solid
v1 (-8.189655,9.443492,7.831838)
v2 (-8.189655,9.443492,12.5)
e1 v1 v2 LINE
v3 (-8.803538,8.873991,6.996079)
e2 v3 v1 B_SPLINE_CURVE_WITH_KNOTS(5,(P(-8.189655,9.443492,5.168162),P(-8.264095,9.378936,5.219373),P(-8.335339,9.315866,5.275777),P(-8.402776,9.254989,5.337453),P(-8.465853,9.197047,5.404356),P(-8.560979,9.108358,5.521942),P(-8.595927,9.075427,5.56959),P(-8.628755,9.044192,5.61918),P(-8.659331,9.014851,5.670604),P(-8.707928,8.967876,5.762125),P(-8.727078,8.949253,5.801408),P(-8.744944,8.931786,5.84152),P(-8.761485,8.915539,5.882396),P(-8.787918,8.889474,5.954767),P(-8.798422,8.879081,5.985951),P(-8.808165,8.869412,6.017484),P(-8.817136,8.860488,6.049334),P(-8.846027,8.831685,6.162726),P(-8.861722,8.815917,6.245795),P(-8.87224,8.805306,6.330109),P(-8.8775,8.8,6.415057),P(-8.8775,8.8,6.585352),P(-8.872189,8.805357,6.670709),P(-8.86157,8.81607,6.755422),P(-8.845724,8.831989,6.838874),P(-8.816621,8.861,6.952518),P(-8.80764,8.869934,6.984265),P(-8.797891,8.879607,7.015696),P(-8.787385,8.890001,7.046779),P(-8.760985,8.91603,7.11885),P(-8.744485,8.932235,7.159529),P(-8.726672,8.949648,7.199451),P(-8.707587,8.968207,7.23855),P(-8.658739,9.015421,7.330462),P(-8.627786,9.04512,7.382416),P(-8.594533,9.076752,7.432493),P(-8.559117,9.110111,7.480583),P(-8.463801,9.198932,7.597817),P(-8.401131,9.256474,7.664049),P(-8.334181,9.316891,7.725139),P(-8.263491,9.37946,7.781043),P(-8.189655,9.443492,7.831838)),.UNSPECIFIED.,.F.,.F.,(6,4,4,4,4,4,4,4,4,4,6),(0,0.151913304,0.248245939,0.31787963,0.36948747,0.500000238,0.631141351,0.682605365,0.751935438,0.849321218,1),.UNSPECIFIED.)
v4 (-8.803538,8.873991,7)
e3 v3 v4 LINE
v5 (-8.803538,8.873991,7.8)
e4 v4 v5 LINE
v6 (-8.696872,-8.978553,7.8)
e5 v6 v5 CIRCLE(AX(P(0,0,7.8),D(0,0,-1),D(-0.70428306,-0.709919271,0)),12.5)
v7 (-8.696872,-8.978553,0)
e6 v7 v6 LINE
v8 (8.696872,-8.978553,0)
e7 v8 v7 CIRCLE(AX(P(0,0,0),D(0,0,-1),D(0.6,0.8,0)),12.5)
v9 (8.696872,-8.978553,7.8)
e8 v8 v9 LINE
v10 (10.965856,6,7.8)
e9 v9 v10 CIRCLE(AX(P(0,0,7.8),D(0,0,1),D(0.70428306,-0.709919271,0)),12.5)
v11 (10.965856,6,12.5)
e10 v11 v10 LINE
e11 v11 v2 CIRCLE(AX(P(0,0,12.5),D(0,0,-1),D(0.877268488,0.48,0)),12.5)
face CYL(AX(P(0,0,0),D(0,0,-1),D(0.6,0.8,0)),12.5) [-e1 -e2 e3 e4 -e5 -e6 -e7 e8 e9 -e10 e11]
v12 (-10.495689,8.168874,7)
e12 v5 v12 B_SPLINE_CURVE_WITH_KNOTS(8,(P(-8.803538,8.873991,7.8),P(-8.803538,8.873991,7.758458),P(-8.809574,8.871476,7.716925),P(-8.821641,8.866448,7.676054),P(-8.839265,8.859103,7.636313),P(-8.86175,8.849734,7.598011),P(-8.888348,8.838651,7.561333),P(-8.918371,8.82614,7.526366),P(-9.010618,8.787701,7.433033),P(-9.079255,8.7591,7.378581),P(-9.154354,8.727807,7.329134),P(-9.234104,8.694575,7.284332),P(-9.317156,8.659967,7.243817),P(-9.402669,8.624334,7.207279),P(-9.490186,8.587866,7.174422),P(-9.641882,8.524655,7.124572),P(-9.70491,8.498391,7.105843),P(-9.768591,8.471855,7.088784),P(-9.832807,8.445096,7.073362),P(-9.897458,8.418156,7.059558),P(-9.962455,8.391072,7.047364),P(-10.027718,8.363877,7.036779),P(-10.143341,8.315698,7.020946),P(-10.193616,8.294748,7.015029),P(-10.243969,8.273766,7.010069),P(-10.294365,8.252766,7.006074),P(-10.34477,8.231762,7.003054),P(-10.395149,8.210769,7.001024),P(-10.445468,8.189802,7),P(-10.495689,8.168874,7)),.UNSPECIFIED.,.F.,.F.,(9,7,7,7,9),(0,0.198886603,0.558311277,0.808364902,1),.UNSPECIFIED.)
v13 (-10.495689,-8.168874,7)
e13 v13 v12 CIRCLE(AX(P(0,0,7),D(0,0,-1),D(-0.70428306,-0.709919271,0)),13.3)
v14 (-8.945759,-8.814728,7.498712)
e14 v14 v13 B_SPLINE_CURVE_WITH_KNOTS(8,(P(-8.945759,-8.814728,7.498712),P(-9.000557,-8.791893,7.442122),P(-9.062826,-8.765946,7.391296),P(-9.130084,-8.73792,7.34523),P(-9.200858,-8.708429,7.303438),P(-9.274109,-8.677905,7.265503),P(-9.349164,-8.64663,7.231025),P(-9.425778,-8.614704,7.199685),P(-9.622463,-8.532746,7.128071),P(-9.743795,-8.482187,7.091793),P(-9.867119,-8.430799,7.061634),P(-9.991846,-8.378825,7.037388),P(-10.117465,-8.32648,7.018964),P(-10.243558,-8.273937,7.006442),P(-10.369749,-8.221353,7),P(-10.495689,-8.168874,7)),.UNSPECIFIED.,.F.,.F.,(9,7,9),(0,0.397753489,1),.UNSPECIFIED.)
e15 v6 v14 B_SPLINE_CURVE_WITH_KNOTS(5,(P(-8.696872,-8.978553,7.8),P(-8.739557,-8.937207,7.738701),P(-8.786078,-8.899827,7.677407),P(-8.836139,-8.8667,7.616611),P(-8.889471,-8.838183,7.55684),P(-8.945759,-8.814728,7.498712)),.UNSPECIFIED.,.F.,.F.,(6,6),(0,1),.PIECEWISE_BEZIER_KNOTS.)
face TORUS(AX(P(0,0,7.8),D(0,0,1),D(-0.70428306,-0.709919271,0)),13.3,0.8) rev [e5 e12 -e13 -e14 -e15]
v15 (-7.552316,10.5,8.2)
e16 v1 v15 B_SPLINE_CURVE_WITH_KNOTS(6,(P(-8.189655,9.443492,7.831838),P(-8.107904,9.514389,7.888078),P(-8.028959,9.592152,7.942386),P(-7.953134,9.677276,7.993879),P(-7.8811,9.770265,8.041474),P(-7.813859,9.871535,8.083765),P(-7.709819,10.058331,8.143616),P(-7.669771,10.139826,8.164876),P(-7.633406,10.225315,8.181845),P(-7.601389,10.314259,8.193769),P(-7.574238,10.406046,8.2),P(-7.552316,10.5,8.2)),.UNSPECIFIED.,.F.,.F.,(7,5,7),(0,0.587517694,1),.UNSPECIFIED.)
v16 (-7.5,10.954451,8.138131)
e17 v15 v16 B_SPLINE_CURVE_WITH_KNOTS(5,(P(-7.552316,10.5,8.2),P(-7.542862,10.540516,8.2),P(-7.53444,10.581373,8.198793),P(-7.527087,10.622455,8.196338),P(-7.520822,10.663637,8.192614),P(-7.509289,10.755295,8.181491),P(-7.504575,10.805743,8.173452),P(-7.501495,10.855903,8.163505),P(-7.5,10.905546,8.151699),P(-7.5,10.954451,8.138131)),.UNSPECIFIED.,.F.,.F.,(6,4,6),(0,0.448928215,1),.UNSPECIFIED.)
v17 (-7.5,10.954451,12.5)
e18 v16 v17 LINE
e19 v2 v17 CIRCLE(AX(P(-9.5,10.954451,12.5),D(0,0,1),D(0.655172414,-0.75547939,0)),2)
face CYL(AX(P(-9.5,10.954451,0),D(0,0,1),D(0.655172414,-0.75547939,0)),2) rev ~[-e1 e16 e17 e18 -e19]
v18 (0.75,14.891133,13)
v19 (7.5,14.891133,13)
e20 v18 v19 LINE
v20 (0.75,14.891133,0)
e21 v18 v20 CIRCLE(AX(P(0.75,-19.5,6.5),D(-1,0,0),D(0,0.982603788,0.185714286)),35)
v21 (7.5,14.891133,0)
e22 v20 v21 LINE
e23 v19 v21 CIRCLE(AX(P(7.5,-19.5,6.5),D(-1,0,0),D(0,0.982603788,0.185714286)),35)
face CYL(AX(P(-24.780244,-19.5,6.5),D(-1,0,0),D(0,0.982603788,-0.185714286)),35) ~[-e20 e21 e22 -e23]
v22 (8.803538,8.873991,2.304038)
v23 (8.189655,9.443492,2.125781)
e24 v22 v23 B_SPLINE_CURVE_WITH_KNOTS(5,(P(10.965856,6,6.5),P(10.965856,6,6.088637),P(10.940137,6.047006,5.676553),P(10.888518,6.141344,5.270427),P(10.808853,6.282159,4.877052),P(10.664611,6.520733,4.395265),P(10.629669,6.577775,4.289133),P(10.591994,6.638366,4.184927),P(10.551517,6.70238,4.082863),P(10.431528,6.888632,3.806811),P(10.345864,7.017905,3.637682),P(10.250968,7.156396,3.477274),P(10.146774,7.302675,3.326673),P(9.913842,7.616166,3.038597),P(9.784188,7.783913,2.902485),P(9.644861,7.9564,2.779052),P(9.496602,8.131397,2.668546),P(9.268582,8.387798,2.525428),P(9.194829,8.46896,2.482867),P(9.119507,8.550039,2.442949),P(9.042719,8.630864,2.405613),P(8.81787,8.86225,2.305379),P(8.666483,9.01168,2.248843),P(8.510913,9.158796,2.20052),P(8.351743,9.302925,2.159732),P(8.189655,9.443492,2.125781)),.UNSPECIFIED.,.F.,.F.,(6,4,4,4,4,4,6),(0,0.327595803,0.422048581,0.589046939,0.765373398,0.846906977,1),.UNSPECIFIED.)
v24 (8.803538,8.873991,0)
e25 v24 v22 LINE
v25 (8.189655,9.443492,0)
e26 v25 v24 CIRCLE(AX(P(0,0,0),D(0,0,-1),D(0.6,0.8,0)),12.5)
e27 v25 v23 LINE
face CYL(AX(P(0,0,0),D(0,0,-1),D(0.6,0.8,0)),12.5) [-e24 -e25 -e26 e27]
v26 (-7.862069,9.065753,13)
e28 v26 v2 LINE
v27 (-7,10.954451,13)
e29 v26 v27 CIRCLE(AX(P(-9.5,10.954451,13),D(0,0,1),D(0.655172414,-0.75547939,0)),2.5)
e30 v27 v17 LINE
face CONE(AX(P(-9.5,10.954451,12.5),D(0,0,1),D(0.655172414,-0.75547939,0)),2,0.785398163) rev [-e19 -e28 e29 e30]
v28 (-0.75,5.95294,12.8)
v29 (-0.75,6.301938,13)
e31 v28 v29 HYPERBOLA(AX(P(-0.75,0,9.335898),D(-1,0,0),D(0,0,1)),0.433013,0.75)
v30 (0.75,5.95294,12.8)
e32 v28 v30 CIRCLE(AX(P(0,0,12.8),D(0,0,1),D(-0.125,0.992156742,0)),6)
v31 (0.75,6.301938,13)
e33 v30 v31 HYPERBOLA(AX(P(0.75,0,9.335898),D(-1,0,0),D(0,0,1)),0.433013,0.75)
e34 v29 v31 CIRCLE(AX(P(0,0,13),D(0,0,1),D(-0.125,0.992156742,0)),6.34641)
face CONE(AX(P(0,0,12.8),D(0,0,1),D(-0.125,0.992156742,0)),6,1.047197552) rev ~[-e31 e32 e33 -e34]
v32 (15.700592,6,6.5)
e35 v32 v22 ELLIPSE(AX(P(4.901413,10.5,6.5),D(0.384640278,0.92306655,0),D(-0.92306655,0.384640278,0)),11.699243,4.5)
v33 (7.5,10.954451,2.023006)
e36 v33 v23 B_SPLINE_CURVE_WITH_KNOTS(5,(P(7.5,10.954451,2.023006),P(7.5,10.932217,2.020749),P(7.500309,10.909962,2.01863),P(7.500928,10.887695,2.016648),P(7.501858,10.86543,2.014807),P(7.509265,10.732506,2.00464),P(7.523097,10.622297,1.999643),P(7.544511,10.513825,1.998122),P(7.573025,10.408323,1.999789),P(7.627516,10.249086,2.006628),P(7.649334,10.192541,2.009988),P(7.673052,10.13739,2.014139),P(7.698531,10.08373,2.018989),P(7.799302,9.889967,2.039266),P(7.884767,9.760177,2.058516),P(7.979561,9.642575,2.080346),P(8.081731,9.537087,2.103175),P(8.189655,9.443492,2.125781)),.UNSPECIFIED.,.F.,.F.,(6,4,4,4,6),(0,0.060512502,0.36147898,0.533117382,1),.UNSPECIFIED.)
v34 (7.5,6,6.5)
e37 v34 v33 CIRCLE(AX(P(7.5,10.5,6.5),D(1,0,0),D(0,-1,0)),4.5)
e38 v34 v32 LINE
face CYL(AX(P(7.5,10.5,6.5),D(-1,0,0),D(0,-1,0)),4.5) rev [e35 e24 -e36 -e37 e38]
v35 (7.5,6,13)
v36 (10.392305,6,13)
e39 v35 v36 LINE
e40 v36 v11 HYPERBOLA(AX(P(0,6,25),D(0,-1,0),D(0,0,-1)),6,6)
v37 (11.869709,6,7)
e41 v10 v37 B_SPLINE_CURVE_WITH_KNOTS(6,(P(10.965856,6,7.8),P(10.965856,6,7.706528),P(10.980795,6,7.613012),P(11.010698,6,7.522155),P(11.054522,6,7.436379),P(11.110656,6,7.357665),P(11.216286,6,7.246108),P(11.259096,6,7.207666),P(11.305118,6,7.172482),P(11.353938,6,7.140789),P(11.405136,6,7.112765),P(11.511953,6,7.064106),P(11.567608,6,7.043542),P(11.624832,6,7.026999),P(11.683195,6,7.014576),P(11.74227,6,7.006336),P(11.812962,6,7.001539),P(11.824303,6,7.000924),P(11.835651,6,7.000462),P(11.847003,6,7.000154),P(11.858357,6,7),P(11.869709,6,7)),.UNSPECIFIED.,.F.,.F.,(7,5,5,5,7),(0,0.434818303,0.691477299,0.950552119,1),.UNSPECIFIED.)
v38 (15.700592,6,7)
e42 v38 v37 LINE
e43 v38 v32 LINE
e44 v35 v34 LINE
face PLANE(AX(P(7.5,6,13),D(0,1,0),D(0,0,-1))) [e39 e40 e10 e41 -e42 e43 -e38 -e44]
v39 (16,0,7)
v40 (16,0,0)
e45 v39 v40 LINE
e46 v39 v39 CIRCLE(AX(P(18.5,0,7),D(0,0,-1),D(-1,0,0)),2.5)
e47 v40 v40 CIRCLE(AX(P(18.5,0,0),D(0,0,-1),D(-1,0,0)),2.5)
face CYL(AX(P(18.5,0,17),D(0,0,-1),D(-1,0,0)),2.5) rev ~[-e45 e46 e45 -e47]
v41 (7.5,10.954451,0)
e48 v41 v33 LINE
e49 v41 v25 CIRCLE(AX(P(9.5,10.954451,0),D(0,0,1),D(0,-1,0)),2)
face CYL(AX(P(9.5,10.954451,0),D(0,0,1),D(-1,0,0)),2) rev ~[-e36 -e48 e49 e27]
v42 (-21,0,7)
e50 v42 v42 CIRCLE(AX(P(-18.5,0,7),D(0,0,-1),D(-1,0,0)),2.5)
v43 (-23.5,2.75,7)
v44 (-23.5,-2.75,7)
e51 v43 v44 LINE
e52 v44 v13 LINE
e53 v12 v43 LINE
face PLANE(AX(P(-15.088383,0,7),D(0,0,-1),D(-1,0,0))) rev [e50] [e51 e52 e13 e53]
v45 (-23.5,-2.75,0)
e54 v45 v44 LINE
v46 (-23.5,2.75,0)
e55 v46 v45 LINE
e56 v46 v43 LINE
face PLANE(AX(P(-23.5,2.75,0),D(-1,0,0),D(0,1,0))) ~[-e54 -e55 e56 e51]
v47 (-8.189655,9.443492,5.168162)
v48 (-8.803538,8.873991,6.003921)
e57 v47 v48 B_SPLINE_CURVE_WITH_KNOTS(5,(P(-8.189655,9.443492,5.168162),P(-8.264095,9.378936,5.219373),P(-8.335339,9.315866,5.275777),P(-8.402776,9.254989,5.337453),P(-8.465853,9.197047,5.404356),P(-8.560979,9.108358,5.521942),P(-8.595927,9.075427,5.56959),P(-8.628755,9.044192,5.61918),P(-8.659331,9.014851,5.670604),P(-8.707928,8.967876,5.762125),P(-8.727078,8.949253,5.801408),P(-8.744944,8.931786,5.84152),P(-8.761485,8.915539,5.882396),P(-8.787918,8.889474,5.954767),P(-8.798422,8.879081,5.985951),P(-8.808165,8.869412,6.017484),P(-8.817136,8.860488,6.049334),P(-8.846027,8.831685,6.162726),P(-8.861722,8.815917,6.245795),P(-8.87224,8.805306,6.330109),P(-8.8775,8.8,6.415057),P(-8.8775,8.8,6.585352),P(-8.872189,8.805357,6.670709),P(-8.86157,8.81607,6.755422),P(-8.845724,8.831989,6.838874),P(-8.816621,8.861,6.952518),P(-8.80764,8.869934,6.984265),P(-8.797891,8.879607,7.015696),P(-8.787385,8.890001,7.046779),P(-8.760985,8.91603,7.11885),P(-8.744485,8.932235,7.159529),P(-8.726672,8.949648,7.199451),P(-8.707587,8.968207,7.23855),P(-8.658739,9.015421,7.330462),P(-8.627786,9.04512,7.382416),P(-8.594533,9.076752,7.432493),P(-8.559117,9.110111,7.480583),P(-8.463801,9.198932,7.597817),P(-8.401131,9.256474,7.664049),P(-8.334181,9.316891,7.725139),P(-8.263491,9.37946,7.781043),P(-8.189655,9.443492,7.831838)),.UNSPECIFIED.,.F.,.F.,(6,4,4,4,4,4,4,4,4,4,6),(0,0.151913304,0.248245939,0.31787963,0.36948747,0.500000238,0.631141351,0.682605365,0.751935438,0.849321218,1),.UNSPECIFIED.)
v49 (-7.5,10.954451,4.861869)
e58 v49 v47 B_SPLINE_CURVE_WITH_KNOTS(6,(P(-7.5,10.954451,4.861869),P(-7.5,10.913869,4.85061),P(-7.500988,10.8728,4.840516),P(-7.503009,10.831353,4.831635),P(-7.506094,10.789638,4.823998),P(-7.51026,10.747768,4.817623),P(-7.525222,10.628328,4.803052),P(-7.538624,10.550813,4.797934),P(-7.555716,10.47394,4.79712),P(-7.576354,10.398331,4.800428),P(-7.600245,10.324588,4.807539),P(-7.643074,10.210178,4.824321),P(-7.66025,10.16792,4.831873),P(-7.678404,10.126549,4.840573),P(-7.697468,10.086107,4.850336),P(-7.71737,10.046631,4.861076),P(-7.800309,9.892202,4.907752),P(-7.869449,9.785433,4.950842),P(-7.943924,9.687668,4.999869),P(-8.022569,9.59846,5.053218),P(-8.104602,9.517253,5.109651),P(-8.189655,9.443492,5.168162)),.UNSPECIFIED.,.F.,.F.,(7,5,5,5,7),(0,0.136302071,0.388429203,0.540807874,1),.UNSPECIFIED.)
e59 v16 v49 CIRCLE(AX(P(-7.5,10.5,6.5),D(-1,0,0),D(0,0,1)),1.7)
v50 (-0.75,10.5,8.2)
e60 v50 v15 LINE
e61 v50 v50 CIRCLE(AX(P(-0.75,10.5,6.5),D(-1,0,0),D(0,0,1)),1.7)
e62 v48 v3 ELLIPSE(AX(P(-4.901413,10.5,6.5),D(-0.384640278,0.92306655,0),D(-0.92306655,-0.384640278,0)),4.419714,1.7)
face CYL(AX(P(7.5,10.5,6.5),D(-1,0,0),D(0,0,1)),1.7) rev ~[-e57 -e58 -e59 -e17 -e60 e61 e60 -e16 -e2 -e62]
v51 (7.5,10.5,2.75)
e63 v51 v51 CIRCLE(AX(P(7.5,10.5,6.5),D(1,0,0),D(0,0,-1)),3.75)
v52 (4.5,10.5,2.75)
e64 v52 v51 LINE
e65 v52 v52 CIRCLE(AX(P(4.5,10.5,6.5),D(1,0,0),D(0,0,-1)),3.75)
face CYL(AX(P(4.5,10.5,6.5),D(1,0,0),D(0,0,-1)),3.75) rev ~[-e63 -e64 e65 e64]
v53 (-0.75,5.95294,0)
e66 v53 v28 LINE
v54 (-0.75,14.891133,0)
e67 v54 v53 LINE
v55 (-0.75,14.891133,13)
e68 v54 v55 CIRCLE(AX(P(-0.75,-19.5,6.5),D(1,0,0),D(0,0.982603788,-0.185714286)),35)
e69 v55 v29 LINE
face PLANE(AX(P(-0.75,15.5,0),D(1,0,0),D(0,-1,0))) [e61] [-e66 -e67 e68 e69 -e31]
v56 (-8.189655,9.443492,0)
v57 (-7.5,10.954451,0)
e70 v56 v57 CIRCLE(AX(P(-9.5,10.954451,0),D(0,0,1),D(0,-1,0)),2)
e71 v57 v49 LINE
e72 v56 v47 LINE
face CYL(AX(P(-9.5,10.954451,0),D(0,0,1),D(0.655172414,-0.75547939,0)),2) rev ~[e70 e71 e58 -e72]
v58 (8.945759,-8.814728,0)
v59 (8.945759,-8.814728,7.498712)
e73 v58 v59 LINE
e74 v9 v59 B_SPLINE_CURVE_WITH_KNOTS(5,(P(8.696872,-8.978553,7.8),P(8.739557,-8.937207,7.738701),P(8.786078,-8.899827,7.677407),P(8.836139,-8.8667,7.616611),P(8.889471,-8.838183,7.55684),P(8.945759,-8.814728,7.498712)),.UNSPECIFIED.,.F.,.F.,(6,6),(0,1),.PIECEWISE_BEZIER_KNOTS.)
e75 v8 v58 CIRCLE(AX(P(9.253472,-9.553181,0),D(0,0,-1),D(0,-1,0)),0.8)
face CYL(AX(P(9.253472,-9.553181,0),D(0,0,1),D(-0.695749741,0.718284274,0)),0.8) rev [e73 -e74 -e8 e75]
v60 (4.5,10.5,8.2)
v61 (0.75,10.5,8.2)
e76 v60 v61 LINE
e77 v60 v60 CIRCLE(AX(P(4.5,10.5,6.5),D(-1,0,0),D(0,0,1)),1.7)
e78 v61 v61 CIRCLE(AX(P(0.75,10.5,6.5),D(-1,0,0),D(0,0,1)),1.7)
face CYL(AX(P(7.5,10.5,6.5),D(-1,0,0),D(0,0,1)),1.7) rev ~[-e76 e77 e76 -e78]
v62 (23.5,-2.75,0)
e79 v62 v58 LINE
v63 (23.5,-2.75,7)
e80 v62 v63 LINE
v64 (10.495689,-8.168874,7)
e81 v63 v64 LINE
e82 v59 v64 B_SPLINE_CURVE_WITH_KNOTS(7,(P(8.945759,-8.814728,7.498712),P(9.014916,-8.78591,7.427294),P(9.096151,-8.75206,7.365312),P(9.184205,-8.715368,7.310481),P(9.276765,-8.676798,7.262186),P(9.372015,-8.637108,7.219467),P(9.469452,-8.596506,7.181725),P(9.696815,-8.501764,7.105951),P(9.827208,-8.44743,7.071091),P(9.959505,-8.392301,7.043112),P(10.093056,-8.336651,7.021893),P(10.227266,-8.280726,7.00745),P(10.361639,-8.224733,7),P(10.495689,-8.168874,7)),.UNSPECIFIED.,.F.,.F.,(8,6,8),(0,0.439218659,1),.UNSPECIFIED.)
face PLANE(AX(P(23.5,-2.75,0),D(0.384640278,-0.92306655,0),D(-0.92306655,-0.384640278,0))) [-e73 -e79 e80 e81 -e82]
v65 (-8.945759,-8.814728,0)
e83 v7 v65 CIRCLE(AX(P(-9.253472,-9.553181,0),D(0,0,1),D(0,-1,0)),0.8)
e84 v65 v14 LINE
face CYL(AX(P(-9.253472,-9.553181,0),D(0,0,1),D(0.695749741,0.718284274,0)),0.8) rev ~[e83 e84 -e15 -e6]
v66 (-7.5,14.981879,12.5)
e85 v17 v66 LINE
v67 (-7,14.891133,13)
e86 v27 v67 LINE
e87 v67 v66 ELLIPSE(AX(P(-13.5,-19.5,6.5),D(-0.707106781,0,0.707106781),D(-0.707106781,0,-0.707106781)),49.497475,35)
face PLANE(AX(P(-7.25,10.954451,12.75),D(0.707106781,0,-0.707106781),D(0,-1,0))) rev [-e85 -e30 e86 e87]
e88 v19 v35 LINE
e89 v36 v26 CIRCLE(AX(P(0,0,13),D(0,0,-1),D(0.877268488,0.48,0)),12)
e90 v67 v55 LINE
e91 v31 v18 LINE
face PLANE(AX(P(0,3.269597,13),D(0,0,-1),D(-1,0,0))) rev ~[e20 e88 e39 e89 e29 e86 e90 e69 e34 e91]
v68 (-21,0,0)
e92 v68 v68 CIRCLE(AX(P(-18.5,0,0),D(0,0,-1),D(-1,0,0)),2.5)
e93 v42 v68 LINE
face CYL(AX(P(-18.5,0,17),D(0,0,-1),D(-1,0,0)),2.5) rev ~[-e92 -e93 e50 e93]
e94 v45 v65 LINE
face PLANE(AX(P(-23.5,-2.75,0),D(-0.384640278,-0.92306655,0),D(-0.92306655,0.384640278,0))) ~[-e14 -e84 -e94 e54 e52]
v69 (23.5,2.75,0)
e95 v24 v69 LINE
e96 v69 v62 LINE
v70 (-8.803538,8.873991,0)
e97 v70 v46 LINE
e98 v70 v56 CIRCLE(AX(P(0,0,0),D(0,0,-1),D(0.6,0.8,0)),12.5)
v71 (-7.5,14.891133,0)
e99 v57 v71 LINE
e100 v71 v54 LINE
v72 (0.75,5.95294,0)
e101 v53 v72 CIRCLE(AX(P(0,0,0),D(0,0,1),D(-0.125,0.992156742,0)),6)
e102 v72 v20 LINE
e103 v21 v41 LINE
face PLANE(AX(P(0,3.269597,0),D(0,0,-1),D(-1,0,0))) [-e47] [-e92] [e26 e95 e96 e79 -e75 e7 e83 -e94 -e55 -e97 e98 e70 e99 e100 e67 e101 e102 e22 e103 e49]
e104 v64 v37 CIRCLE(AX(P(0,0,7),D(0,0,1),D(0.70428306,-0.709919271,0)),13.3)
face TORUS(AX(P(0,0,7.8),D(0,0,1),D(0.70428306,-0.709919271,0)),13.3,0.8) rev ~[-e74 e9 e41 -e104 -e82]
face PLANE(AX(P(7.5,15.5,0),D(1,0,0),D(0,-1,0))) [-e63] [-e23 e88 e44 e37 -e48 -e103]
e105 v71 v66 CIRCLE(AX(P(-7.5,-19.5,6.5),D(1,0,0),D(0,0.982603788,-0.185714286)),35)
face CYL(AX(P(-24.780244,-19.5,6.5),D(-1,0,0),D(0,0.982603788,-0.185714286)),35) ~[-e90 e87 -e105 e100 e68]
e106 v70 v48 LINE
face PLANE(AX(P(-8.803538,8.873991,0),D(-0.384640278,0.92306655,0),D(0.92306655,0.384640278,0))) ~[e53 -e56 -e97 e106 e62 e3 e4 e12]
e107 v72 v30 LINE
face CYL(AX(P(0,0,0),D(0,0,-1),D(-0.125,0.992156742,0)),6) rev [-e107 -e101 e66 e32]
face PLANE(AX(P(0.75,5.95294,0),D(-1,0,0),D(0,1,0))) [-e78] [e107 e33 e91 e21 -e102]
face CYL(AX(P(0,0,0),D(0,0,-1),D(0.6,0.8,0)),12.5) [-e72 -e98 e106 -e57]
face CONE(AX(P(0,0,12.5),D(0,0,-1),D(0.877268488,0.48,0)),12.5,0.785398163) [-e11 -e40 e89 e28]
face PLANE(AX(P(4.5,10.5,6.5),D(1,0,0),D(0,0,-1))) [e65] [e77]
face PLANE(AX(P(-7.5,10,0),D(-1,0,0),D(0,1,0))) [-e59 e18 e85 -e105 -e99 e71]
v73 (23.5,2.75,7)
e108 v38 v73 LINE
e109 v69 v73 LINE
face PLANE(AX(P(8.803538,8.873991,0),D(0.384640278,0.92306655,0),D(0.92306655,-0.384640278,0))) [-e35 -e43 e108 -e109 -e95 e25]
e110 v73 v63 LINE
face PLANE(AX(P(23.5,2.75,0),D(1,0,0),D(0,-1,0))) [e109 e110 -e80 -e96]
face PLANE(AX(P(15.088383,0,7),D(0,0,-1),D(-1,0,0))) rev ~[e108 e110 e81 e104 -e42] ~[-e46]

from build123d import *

# Parameters (mm, degrees)
BOSS_EXTRUDE1_DEPTH                                 = 13
CUT_EXTRUDE1_DEPTH                                  = 24.780243901
CUT_EXTRUDE1_DEPTH_BACK                             = 24.780243901
FILLET1_R                                           = 2
BOSS_EXTRUDE2_DEPTH                                 = 7
HOLE_WIZARD_5_0_5_1_D                               = 5
HOLE_WIZARD_5_0_5_1_DEPTH                           = 10
HOLE_WIZARD_5_0_5_1_TIP                             = 1.502151548
CUT_EXTRUDE2_REACH                                  = 39.017
CBORE_FOR_M4_HEX_SOCKET_HEAD_CAP_SCREW3_D           = 3.4
CBORE_FOR_M4_HEX_SOCKET_HEAD_CAP_SCREW3_CBORE_D     = 7.5
CBORE_FOR_M4_HEX_SOCKET_HEAD_CAP_SCREW3_CBORE_DEPTH = 3
CHAMFER2_SIZE                                       = 0.5
FILLET2_R                                           = 0.8
CHAMFER3_SIZE                                       = 0.2
CHAMFER3_SIZE2                                      = 0.346410162


with BuildPart() as part:
    # Sketch1 → Boss-Extrude1 (new body)
    with BuildSketch(Plane.XY):
        with BuildLine():
            Line((0.75, 5.95294045), (0.75, 15.5))
            Line((0.75, 15.5), (7.5, 15.5))
            Line((7.5, 15.5), (7.5, 10))
            ThreePointArc((7.5, 10), (0, -12.5), (-7.5, 10))
            Line((-7.5, 10), (-7.5, 15.5))
            Line((-7.5, 15.5), (-0.75, 15.5))
            Line((-0.75, 15.5), (-0.75, 5.95294045))
            ThreePointArc((-0.75, 5.95294045), (0, -6), (0.75, 5.95294045))
        make_face()
    extrude(amount=BOSS_EXTRUDE1_DEPTH)

    # Sketch2 → Cut-Extrude1 (cut, two sides: drawn at the far end of the back side and taken through both)
    with BuildSketch(Plane(origin=(0, 0, 0), x_dir=(0, 0, -1), z_dir=(1, 0, 0)).offset(-CUT_EXTRUDE1_DEPTH_BACK)):
        with BuildLine():
            Line((69.410215856, 1.772448509), (0, 14.891132578))
            ThreePointArc((0, 14.891132578), (-6.5, 15.5), (-13, 14.891132578))
            Line((-13, 14.891132578), (-82.410215856, 1.772448509))
            Line((-82.410215856, 1.772448509), (-82.410215856, 143.050584636))
            Line((-82.410215856, 143.050584636), (69.410215856, 143.050584636))
            Line((69.410215856, 143.050584636), (69.410215856, 1.772448509))
        make_face()
    extrude(amount=CUT_EXTRUDE1_DEPTH + CUT_EXTRUDE1_DEPTH_BACK, mode=Mode.SUBTRACT)

    # Fillet1
    fillet1_edges = [part.edges().sort_by_distance(p)[0] for p in [
        (7.5, 10, 6.5),
        (-7.5, 10, 6.5),
    ]]
    fillet(fillet1_edges, radius=FILLET1_R)

    # Sketch3 → Boss-Extrude2 (add)
    with BuildSketch(Plane.XY):
        with BuildLine():
            Line((8.803538255, 8.873990883), (23.5, 2.75))
            Line((23.5, 2.75), (23.5, -2.75))
            Line((23.5, -2.75), (8.803538255, -8.873990883))
            ThreePointArc((8.803538255, -8.873990883), (12.5, 0), (8.803538255, 8.873990883))
        make_face()
    extrude(amount=BOSS_EXTRUDE2_DEPTH)

    # Mirror1: part across plane


with BuildPart() as part_1:
    add(part.part)
    add(part.part.mirror(Plane(origin=(0, 0, 0), x_dir=(0, 0, 1), z_dir=(1, 0, 0))))

    # Диаметр отверстия Ø5.0 (5)1
    with Locations(Plane.XY.offset(7)):
        with Locations((18.5, 0), (-18.5, 0)):
            Hole(HOLE_WIZARD_5_0_5_1_D / 2, depth=HOLE_WIZARD_5_0_5_1_DEPTH)
            with Locations((0, 0, -(HOLE_WIZARD_5_0_5_1_DEPTH + HOLE_WIZARD_5_0_5_1_TIP / 2))):  # 118° drill point
                Cone(0, HOLE_WIZARD_5_0_5_1_D / 2, HOLE_WIZARD_5_0_5_1_TIP, mode=Mode.SUBTRACT)

    # Sketch9 → Cut-Extrude2 (cut, up to next)
    with BuildSketch(Plane(origin=(7.5, 0, 0), x_dir=(0, 0, -1), z_dir=(1, 0, 0)), mode=Mode.PRIVATE) as cut_extrude2_sk1:
        with BuildLine():
            Line((-2.023006126, 10.95445115), (-13, 10.95445115))
            Line((-13, 10.95445115), (-13, 6))
            Line((-13, 6), (-6.5, 6))
            ThreePointArc((-6.5, 6), (-3.161210536, 7.482967532), (-2.023006126, 10.95445115))
        make_face()
    cut_extrude2_tool1 = extrude(cut_extrude2_sk1.sketch, amount=CUT_EXTRUDE2_REACH, mode=Mode.PRIVATE) & part_1.part
    add(cut_extrude2_tool1.solids().sort_by_distance((7.5, 8.604622, 7.889878))[0], mode=Mode.SUBTRACT)

    # CBORE for M4 Hex Socket Head Cap Screw3 (through all)
    with Locations(Plane(origin=(7.5, 0, 0), x_dir=(0, 0, -1), z_dir=(1, 0, 0))):
        with Locations((-6.5, 10.5)):
            CounterBoreHole(CBORE_FOR_M4_HEX_SOCKET_HEAD_CAP_SCREW3_D / 2, CBORE_FOR_M4_HEX_SOCKET_HEAD_CAP_SCREW3_CBORE_D / 2, CBORE_FOR_M4_HEX_SOCKET_HEAD_CAP_SCREW3_CBORE_DEPTH)

    # Chamfer2
    chamfer2_edges = [part_1.edges().sort_by_distance(p)[0] for p in [
        (-7.5, 12.922791864, 13),
        (-2.211613172, -12.302795096, 13),
        (-7.680564695, 10.123996352, 13),
    ]]
    chamfer(chamfer2_edges, length=CHAMFER2_SIZE)

    # Fillet2
    fillet2_edges = [part_1.edges().sort_by_distance(p)[0] for p in [
        (12.36996926, -1.798293779, 7),
        (8.803538255, -8.873990883, 3.5),
        (-12.5, 0, 7),
        (-8.803538255, -8.873990883, 3.5),
    ]]
    fillet(fillet2_edges, radius=FILLET2_R)

    # Chamfer3
    chamfer3_edges = [part_1.edges().sort_by_distance(p)[0] for p in [
        (0, -6, 13),
    ]]
    chamfer3_side = [part_1.faces().sort_by_distance(p)[0] for p in [
        (0, -6, 6.5),
    ]]
    chamfer(chamfer3_edges, length=CHAMFER3_SIZE, length2=CHAMFER3_SIZE2, reference=chamfer3_side[0])


solid = part_1.part
